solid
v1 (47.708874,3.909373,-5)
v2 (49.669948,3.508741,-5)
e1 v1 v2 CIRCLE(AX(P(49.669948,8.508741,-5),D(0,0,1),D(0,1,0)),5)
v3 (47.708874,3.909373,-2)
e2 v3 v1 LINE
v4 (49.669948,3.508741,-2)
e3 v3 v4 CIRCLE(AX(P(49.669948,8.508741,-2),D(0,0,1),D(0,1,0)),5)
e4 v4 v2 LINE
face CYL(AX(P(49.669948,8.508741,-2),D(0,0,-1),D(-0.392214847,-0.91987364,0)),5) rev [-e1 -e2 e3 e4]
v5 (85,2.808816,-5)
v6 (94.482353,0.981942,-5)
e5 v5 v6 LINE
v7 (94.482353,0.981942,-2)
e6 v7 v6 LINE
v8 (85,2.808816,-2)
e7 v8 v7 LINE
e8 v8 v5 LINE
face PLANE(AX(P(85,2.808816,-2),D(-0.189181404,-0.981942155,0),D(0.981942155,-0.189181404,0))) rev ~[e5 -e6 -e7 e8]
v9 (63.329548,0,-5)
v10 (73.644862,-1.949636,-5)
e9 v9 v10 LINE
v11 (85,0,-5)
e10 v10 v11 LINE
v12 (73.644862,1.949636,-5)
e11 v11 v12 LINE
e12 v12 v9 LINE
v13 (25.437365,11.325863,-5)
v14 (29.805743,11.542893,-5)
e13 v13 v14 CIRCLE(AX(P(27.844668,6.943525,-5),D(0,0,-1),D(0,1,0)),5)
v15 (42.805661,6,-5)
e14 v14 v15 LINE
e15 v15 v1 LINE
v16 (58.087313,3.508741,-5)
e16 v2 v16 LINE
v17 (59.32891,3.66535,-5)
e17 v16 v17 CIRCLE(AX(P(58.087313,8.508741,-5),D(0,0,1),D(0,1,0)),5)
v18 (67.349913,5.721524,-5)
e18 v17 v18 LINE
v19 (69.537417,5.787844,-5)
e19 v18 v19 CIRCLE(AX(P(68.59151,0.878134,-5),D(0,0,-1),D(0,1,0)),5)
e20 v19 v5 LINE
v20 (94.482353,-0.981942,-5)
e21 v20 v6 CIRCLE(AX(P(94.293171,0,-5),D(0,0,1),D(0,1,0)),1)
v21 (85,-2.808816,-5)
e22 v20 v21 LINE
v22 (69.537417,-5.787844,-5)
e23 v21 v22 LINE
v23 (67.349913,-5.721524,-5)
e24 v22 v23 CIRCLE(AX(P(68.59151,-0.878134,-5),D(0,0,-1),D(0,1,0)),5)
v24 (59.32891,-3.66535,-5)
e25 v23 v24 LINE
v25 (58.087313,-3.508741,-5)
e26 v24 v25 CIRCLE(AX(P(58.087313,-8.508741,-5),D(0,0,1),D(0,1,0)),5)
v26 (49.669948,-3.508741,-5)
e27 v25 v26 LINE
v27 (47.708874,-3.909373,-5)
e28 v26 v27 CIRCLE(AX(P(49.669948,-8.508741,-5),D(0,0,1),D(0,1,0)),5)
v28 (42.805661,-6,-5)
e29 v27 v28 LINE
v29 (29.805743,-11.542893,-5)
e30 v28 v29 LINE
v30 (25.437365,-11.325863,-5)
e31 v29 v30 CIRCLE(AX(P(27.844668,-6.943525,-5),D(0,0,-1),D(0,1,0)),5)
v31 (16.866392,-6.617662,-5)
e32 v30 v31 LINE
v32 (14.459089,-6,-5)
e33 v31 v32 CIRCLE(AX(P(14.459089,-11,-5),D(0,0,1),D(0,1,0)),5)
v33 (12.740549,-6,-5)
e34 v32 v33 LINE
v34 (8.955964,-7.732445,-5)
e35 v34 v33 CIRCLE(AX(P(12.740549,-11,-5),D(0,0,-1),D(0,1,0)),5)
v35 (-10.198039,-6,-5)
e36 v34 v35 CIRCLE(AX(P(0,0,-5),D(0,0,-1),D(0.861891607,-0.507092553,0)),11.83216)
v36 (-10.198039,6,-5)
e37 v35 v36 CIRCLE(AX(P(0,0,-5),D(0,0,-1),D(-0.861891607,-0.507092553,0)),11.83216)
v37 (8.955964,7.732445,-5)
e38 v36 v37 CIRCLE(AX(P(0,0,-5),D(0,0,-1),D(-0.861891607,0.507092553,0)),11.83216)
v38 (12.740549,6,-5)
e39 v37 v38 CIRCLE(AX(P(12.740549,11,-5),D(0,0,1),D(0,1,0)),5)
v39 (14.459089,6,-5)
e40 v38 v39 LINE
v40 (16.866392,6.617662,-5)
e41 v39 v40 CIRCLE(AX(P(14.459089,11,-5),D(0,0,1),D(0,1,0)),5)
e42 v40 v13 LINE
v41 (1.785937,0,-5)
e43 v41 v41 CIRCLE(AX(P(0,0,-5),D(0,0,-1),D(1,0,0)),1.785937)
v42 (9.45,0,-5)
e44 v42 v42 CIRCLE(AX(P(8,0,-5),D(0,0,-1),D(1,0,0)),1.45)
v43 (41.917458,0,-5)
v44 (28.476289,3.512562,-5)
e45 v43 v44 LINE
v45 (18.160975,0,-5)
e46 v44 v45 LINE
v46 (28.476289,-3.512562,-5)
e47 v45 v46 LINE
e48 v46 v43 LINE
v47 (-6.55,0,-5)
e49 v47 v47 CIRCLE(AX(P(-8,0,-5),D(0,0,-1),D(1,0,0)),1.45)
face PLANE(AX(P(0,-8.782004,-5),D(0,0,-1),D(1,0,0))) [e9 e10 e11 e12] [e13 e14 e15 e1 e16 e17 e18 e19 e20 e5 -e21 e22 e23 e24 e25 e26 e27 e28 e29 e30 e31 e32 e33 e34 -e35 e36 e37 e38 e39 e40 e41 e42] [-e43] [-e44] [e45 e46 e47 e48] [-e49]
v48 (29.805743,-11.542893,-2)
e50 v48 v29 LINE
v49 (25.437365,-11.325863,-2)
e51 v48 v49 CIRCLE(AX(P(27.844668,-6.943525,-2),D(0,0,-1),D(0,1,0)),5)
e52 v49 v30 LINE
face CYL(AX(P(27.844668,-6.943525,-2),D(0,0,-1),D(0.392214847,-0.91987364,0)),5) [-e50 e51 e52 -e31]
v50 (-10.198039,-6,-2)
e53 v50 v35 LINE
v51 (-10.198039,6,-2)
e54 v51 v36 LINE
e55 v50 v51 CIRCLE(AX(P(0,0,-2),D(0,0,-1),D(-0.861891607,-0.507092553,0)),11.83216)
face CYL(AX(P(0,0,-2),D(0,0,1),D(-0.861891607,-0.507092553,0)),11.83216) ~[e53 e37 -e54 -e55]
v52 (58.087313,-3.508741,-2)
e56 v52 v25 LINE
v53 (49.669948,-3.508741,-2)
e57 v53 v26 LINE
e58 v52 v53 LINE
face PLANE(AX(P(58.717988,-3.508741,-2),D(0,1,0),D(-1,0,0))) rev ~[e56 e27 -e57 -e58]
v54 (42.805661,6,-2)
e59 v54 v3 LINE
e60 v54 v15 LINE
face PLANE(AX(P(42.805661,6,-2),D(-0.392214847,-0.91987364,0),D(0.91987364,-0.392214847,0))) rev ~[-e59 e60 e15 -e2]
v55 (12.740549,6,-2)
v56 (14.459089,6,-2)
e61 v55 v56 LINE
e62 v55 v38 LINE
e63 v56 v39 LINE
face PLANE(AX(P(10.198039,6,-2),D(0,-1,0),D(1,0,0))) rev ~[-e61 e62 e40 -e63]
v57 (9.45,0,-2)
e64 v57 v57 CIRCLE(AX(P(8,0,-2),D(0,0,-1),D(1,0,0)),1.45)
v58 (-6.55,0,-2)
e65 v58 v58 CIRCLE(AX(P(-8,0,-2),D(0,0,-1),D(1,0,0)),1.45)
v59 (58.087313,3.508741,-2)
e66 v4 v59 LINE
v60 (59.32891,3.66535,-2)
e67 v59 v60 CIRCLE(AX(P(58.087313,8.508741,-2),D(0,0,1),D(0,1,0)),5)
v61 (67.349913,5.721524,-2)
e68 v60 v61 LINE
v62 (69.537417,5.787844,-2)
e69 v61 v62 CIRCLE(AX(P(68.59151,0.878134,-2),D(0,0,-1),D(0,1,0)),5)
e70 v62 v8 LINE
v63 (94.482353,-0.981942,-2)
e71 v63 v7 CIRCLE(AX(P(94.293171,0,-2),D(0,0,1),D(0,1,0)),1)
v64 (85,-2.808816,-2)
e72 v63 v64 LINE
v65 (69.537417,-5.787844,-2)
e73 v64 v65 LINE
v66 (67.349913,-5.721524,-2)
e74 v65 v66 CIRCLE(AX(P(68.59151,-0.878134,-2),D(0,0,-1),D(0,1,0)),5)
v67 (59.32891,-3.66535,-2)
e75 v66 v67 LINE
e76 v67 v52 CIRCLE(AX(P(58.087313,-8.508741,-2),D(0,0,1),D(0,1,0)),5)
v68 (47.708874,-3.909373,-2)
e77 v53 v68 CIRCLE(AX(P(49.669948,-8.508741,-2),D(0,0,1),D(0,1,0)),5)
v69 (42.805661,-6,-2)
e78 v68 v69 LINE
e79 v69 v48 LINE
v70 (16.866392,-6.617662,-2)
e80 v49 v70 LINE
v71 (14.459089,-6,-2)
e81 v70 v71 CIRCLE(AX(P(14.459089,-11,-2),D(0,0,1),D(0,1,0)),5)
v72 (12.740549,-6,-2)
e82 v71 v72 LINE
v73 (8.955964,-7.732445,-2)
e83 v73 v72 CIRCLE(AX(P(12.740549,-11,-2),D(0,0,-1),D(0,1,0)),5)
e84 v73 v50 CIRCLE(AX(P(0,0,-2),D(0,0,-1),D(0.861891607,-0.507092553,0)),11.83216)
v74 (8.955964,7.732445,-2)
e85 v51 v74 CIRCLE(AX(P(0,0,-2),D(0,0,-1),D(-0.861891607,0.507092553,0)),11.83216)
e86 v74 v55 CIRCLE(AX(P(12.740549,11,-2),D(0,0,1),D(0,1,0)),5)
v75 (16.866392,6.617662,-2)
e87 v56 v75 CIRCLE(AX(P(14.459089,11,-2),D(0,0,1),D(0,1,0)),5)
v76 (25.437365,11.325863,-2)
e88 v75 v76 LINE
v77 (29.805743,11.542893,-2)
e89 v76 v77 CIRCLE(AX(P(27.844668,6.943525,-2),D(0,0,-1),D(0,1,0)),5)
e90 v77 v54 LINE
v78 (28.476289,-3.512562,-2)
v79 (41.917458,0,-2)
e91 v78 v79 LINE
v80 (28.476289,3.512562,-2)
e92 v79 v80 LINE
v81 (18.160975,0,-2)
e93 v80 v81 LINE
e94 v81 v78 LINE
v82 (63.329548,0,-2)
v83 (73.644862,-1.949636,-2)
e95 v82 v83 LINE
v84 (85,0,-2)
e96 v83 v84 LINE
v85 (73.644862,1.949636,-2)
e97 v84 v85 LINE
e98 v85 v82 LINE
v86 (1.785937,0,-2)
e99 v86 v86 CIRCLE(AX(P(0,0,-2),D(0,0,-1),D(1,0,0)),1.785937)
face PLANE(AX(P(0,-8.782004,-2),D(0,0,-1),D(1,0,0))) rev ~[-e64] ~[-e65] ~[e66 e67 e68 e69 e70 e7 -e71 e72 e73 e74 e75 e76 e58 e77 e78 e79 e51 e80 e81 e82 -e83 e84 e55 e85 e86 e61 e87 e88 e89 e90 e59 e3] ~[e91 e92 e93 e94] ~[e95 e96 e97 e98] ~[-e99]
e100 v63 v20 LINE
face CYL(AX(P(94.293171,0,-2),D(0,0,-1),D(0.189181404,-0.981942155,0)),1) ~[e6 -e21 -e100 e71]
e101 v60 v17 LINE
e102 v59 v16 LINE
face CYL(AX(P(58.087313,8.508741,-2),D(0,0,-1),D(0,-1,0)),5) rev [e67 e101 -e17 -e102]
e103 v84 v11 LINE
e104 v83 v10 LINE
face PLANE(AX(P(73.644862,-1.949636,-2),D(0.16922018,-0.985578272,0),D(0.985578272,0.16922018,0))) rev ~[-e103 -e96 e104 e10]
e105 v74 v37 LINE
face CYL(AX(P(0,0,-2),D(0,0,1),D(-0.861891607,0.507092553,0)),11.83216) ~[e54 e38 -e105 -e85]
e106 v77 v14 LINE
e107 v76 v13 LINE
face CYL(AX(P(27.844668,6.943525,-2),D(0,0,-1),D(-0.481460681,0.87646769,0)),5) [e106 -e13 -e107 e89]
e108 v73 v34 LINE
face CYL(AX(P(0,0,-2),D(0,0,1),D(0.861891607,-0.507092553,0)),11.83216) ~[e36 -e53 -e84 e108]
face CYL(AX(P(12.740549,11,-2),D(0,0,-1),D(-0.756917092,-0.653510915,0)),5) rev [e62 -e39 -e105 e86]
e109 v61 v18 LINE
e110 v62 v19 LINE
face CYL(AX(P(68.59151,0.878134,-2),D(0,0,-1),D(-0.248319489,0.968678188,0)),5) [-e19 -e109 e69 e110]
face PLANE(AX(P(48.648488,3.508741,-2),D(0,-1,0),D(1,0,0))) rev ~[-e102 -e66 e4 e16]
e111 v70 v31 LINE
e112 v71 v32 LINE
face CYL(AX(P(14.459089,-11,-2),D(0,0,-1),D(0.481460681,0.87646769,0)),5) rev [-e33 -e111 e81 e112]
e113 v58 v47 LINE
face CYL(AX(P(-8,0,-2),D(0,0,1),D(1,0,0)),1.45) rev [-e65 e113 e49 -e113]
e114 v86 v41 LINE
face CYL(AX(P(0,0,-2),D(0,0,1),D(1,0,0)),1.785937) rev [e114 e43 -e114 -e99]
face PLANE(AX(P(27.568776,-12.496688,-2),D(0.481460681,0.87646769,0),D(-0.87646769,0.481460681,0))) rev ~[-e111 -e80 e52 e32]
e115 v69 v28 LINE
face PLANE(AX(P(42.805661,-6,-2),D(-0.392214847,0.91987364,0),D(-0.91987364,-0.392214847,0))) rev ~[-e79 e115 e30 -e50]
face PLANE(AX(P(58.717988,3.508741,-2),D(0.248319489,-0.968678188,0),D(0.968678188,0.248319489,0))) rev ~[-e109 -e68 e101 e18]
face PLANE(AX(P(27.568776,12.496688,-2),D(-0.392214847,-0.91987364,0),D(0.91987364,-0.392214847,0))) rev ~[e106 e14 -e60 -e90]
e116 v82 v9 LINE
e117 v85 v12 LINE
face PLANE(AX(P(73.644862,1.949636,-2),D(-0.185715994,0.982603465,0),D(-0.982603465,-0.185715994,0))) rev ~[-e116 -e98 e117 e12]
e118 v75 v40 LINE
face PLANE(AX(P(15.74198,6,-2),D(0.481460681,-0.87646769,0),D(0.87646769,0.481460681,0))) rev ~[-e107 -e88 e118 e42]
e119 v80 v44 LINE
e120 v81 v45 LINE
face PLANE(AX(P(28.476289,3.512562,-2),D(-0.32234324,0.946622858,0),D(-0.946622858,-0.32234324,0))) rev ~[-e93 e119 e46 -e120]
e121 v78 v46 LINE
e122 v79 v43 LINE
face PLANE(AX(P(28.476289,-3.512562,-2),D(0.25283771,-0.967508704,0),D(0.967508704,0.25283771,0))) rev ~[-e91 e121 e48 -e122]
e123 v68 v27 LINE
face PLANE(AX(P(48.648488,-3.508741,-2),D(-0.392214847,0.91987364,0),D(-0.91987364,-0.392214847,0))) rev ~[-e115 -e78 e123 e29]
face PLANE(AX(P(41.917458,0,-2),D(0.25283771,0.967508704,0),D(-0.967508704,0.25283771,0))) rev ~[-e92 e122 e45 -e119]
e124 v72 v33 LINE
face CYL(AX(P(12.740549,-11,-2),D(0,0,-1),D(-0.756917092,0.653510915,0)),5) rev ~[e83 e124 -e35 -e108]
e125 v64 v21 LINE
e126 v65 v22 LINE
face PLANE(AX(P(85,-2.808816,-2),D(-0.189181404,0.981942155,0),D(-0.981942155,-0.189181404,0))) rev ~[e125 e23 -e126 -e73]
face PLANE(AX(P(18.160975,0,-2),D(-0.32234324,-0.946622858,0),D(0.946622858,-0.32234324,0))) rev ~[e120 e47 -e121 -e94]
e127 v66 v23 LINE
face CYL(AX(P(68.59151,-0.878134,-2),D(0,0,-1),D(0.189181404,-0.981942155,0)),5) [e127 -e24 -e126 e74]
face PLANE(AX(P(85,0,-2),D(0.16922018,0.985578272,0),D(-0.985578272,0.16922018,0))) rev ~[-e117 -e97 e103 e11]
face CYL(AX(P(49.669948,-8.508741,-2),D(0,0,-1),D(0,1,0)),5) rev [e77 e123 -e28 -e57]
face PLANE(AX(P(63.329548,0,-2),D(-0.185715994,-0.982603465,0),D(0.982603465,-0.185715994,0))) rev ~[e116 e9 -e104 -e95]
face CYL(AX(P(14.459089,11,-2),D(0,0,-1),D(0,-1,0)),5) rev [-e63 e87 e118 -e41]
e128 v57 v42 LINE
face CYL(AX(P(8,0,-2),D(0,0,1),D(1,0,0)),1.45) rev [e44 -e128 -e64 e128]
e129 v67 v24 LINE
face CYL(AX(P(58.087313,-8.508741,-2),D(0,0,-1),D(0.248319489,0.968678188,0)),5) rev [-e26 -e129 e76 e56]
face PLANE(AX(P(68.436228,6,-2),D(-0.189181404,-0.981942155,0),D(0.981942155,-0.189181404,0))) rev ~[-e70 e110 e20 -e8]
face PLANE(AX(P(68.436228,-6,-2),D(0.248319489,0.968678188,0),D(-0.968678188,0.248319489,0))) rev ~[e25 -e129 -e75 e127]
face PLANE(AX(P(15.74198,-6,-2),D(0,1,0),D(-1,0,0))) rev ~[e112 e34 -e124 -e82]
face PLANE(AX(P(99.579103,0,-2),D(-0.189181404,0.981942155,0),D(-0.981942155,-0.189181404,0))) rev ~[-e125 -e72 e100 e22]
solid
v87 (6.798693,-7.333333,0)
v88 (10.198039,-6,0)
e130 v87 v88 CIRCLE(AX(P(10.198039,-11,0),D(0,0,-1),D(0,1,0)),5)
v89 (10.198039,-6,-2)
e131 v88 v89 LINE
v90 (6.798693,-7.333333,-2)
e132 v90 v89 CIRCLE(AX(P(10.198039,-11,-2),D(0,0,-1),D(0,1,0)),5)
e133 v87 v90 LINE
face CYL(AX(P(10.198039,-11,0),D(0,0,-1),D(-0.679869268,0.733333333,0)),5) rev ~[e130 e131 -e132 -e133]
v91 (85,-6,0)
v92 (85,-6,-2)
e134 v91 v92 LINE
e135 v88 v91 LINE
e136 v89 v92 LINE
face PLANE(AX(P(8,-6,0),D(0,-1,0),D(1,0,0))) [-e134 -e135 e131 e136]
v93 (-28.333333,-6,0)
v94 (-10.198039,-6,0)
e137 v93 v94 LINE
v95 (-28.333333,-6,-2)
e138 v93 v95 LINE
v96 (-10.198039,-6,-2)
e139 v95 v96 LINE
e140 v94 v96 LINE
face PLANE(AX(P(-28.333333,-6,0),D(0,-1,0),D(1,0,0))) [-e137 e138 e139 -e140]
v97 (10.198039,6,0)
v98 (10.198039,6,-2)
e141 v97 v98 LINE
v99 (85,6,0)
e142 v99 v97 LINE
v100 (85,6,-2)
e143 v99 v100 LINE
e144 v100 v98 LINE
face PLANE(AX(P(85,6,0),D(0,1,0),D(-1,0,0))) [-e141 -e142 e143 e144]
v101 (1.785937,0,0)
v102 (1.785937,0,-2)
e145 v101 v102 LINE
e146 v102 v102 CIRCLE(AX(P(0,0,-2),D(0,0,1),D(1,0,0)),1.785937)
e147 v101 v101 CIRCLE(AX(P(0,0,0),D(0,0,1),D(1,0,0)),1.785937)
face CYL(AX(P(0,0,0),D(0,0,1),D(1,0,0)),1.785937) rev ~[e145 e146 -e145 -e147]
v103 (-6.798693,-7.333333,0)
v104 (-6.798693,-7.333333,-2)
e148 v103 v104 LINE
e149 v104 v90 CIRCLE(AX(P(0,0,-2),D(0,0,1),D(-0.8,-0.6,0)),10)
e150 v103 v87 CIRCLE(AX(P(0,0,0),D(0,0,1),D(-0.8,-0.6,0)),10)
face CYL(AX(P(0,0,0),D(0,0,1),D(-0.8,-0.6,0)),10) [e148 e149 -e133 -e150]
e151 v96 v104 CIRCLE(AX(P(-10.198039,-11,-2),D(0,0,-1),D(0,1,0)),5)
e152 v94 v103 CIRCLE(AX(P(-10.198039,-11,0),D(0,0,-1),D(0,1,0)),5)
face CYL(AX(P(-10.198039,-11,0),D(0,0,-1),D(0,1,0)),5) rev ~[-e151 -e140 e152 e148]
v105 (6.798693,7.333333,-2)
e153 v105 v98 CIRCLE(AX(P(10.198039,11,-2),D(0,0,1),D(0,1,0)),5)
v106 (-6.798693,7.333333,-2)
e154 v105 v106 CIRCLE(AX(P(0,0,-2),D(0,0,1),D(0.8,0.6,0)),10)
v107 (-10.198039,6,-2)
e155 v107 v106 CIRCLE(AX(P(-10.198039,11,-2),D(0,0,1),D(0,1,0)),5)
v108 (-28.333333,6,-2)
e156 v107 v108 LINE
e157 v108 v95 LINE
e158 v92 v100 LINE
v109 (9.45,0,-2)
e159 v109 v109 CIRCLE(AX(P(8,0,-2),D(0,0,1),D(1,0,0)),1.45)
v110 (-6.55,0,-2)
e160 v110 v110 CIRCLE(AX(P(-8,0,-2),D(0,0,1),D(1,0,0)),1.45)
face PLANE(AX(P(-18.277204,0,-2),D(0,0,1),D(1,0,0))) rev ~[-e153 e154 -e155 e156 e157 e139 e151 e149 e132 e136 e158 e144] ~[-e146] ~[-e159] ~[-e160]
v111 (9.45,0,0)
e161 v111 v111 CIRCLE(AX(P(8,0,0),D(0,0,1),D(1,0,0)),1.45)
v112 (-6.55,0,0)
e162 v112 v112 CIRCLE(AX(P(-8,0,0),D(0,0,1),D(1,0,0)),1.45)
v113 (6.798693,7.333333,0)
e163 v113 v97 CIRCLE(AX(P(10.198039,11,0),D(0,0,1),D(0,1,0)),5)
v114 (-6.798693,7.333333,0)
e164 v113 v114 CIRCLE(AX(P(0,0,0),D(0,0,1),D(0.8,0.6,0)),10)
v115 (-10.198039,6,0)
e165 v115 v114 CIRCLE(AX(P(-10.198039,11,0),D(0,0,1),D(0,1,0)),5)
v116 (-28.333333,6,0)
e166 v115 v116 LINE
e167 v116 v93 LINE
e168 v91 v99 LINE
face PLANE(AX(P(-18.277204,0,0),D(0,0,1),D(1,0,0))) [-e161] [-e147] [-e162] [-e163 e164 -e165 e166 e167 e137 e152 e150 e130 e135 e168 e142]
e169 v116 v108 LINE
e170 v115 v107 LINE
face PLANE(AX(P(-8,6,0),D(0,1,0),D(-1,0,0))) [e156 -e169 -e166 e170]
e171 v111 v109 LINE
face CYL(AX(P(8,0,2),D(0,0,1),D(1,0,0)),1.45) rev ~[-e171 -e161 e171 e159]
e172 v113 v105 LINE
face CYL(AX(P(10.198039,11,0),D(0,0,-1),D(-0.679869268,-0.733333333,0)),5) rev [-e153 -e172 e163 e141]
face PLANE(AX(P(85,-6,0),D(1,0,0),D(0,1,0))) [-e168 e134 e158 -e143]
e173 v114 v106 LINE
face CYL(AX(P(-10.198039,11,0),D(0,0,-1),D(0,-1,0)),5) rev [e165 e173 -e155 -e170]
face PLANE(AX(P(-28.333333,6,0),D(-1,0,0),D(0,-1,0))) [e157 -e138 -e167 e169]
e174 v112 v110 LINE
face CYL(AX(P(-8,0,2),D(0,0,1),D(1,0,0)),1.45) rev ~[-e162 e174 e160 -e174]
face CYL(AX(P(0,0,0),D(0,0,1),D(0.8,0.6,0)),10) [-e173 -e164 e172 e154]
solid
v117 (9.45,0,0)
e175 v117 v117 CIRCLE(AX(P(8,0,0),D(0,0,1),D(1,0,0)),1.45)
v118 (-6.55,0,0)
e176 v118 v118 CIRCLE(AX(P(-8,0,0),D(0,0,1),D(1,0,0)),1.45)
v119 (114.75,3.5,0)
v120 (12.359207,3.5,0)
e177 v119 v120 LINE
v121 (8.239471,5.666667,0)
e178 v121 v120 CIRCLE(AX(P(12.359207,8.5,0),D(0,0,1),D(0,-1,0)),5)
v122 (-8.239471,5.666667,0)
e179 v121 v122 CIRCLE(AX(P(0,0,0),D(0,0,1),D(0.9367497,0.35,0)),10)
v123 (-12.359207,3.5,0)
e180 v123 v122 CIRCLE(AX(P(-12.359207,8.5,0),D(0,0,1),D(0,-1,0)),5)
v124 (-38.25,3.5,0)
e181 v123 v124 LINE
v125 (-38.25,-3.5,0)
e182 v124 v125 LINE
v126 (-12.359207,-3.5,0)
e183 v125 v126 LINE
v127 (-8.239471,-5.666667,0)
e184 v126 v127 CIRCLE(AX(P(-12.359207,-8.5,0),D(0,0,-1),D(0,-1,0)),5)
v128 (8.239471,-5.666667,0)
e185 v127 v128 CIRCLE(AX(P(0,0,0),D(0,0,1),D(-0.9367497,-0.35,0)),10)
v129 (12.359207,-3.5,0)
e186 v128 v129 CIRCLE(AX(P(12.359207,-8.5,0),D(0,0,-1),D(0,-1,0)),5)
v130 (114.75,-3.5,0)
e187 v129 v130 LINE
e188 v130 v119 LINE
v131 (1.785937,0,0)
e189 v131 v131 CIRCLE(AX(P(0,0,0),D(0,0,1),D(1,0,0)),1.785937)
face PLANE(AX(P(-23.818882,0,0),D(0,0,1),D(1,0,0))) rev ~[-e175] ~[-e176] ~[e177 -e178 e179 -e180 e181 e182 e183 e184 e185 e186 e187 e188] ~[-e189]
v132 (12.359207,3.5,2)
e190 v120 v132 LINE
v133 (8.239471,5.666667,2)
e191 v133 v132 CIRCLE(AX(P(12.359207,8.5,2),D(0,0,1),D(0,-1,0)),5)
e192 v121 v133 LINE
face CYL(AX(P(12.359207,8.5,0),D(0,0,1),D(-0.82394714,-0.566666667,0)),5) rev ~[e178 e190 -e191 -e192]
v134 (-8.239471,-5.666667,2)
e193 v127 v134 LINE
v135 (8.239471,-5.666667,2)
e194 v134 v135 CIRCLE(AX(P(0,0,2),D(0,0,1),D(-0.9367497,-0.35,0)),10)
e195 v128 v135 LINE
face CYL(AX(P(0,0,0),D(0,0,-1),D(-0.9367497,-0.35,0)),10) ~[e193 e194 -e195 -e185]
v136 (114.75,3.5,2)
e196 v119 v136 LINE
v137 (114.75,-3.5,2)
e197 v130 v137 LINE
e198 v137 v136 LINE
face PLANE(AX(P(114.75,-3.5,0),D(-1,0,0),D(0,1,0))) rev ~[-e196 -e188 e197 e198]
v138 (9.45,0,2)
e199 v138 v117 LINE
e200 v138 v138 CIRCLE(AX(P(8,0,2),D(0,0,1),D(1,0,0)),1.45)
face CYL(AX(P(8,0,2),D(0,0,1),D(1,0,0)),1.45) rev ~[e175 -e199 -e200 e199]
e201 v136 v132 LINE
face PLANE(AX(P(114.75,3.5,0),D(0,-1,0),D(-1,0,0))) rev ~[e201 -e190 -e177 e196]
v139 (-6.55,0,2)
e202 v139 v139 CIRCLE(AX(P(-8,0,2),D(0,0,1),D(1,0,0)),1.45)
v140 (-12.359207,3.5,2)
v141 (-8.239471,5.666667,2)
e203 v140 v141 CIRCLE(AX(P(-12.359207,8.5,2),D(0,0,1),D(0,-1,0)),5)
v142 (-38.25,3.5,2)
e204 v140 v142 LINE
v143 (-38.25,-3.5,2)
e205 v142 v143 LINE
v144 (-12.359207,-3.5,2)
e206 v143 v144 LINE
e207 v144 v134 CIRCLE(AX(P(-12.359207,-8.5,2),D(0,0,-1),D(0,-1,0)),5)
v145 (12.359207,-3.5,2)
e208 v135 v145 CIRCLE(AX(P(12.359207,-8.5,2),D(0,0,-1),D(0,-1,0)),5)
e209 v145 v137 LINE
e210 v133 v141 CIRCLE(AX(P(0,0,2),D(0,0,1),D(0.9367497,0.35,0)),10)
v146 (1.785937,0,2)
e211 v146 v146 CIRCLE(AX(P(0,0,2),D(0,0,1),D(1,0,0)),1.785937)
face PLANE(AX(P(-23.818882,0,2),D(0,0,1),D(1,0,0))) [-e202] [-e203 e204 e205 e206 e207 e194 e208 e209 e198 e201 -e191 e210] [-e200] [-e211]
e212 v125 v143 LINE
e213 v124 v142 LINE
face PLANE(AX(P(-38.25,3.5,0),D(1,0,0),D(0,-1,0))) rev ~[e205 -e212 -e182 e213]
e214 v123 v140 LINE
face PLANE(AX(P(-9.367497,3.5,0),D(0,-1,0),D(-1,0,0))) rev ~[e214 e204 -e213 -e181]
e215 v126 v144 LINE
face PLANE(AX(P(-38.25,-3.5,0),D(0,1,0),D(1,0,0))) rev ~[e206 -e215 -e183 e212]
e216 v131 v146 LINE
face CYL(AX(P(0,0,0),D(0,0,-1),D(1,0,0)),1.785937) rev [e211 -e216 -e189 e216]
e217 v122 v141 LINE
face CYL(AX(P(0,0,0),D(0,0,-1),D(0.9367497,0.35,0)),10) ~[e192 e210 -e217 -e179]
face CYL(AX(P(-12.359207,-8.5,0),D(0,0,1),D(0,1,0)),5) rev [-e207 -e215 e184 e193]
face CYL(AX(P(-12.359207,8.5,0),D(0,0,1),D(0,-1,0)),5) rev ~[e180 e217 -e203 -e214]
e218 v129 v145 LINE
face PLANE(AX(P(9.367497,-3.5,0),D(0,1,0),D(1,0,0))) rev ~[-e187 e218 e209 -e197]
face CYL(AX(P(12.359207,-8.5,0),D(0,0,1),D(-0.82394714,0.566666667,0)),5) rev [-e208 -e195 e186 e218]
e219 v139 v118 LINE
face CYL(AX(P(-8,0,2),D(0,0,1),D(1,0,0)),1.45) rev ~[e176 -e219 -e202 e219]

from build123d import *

# Parameters (mm, degrees)
F0_R     = 1.7859375
F1_DEPTH = 2
F2_R     = 1.7859375
F3_DEPTH = 2
F4_R     = 1.45
F5_DEPTH = 25
F6_R     = 5
F6_2_R   = 5
F7_R     = 1.45
F7_R_2   = 1.7859375
F8_DEPTH = 3
F9_R     = 5
F10_R    = 1


with BuildPart() as f1:
    # F0 (on Top) → F1 (new body)
    with BuildSketch(Plane.XY):
        with BuildLine():
            Line((-9.3674969976, 3.5), (-38.25, 3.5))
            Line((-38.25, 3.5), (-38.25, -3.5))
            Line((-38.25, -3.5), (-9.3674969976, -3.5))
            ThreePointArc((-9.3674969976, -3.5), (-10, 0), (-9.3674969976, 3.5))
        make_face()
        with BuildLine():
            ThreePointArc((9.3674969976, 3.5), (0, 10), (-9.3674969976, 3.5))
            Line((-9.3674969976, 3.5), (9.3674969976, 3.5))
        make_face()
        with BuildLine():
            Line((9.3674969976, 3.5), (-9.3674969976, 3.5))
            ThreePointArc((-9.3674969976, 3.5), (-10, 0), (-9.3674969976, -3.5))
            Line((-9.3674969976, -3.5), (9.3674969976, -3.5))
            ThreePointArc((9.3674969976, -3.5), (9.8406038935, -1.7783461452), (10, 0))
            ThreePointArc((10, 0), (9.8406038935, 1.7783461452), (9.3674969976, 3.5))
        make_face()
        Circle(F0_R, mode=Mode.SUBTRACT)
        with BuildLine():
            Line((114.75, 3.5), (9.3674969976, 3.5))
            ThreePointArc((9.3674969976, 3.5), (9.8406038935, 1.7783461452), (10, 0))
            ThreePointArc((10, 0), (9.8406038935, -1.7783461452), (9.3674969976, -3.5))
            Line((9.3674969976, -3.5), (114.75, -3.5))
            Line((114.75, -3.5), (114.75, 3.5))
        make_face()
        with BuildLine():
            Line((9.3674969976, -3.5), (-9.3674969976, -3.5))
            ThreePointArc((-9.3674969976, -3.5), (0, -10), (9.3674969976, -3.5))
        make_face()
    extrude(amount=F1_DEPTH)


with BuildPart() as f3:
    # F2 (on Top) → F3 (new body)
    with BuildSketch(Plane.XY):
        with BuildLine():
            Line((-8, 6), (-28.3333333333, 6))
            Line((-28.3333333333, 6), (-28.3333333333, -6))
            Line((-28.3333333333, -6), (-8, -6))
            ThreePointArc((-8, -6), (-10, 0), (-8, 6))
        make_face()
        with BuildLine():
            ThreePointArc((8, 6), (0, 10), (-8, 6))
            Line((-8, 6), (8, 6))
        make_face()
        with BuildLine():
            Line((8, 6), (-8, 6))
            ThreePointArc((-8, 6), (-10, 0), (-8, -6))
            Line((-8, -6), (8, -6))
            ThreePointArc((8, -6), (9.4868329805, -3.1622776602), (10, 0))
            ThreePointArc((10, 0), (9.4868329805, 3.1622776602), (8, 6))
        make_face()
        Circle(F2_R, mode=Mode.SUBTRACT)
        with BuildLine():
            Line((85, 6), (8, 6))
            ThreePointArc((8, 6), (9.4868329805, 3.1622776602), (10, 0))
            ThreePointArc((10, 0), (9.4868329805, -3.1622776602), (8, -6))
            Line((8, -6), (85, -6))
            Line((85, -6), (85, 6))
        make_face()
        with BuildLine():
            Line((8, -6), (-8, -6))
            ThreePointArc((-8, -6), (0, -10), (8, -6))
        make_face()
    extrude(amount=-F3_DEPTH)


with BuildPart() as f5_tool:
    # F4 (on face) → F5 (new body)
    with BuildSketch(Plane.XY.offset(2)):
        with Locations((8, 0)):
            Circle(F4_R)
        with Locations((-8, 0)):
            Circle(F4_R)
    extrude(amount=-F5_DEPTH)


with BuildPart() as f1_1:
    add(f1.part)

    # F5: cut by f5_tool
    add(f5_tool.part, mode=Mode.SUBTRACT)

    # F6
    f6_edges = [f1_1.edges().sort_by_distance(p)[0] for p in [
        (9.367497, -3.5, 1),
        (9.367497, 3.5, 1),
        (-9.367497, 3.5, 1),
        (-9.367497, -3.5, 1),
    ]]
    fillet(f6_edges, radius=F6_R)


with BuildPart() as f3_1:
    add(f3.part)

    # F5: cut by f5_tool
    add(f5_tool.part, mode=Mode.SUBTRACT)

    # F6#2
    f6_2_edges = [f3_1.edges().sort_by_distance(p)[0] for p in [
        (-8, -6, -1),
        (8, 6, -1),
        (8, -6, -1),
        (-8, 6, -1),
    ]]
    fillet(f6_2_edges, radius=F6_2_R)


with BuildPart() as f8:
    # F7 (on face) → F8 (new body)
    with BuildSketch(Plane(origin=(0, 0, -2), x_dir=(1, 0, 0), z_dir=(0, 0, -1))):
        with BuildLine():
            ThreePointArc((6.7986926848, 7.3333333333), (8.3722971688, 6.3452533187), (10.1980390272, 6))
            ThreePointArc((10.1980390272, 6), (0, 11.8321595662), (-10.1980390272, 6))
            ThreePointArc((-10.1980390272, 6), (-8.3722971688, 6.3452533187), (-6.7986926848, 7.3333333333))
            ThreePointArc((-6.7986926848, 7.3333333333), (0, 10), (6.7986926848, 7.3333333333))
        make_face()
        with BuildLine():
            ThreePointArc((-10.1980390272, -6), (0, -11.8321595662), (10.1980390272, -6))
            ThreePointArc((10.1980390272, -6), (8.3722971688, -6.3452533187), (6.7986926848, -7.3333333333))
            ThreePointArc((6.7986926848, -7.3333333333), (0, -10), (-6.7986926848, -7.3333333333))
            ThreePointArc((-6.7986926848, -7.3333333333), (-8.3722971688, -6.3452533187), (-10.1980390272, -6))
        make_face()
        with BuildLine():
            Line((-10.1980390272, -6), (-10.1980390272, 6))
            ThreePointArc((-10.1980390272, 6), (-11.8321595662, 0), (-10.1980390272, -6))
        make_face()
        with BuildLine():
            ThreePointArc((10.1980390272, -6), (11.4163221975, -3.1092744305), (11.8321595662, 0))
            ThreePointArc((11.8321595662, 0), (11.4163221975, 3.1092744305), (10.1980390272, 6))
            ThreePointArc((10.1980390272, 6), (8.3722971688, 6.3452533187), (6.7986926848, 7.3333333333))
            ThreePointArc((6.7986926848, 7.3333333333), (0, 10), (-6.7986926848, 7.3333333333))
            ThreePointArc((-6.7986926848, 7.3333333333), (-8.3722971688, 6.3452533187), (-10.1980390272, 6))
            Line((-10.1980390272, 6), (-10.1980390272, -6))
            ThreePointArc((-10.1980390272, -6), (-8.3722971688, -6.3452533187), (-6.7986926848, -7.3333333333))
            ThreePointArc((-6.7986926848, -7.3333333333), (0, -10), (6.7986926848, -7.3333333333))
            ThreePointArc((6.7986926848, -7.3333333333), (8.3722971688, -6.3452533187), (10.1980390272, -6))
        make_face()
        with Locations((-8, 0)):
            Circle(F7_R, mode=Mode.SUBTRACT)
        Circle(F7_R_2, mode=Mode.SUBTRACT)
        with Locations((8, 0)):
            Circle(F7_R, mode=Mode.SUBTRACT)
        Polygon((27.5687761605, 12.4966884032), (15.7419797033, 6), (42.8056608912, 6), align=None)
        Polygon((42.8056608912, -6), (15.7419797033, -6), (27.5687761605, -12.4966884032), align=None)
        Polygon((85, 2.8088164049), (85, 0), (85, -2.8088164049), (99.579103291, 0), align=None)
        with BuildLine():
            Line((11.8321595662, 0), (18.1609746069, 0))
            Line((18.1609746069, 0), (28.4762885422, 3.5125622526))
            Line((28.4762885422, 3.5125622526), (41.9174581766, 0))
            Line((41.9174581766, 0), (63.3295476437, 0))
            Line((63.3295476437, 0), (73.6448615789, 1.9496356836))
            Line((73.6448615789, 1.9496356836), (85, 0))
            Line((85, 0), (85, 2.8088164049))
            Line((85, 2.8088164049), (68.4362277389, 6))
            Line((68.4362277389, 6), (58.7179884315, 3.5087410361))
            Line((58.7179884315, 3.5087410361), (48.6484877765, 3.5087410361))
            Line((48.6484877765, 3.5087410361), (42.8056608912, 6))
            Line((42.8056608912, 6), (15.7419797033, 6))
            Line((15.7419797033, 6), (10.1980390272, 6))
            ThreePointArc((10.1980390272, 6), (11.4163221975, 3.1092744305), (11.8321595662, 0))
        make_face()
        with BuildLine():
            Line((28.4762885422, -3.5125622526), (18.1609746069, 0))
            Line((18.1609746069, 0), (11.8321595662, 0))
            ThreePointArc((11.8321595662, 0), (11.4163221975, -3.1092744305), (10.1980390272, -6))
            Line((10.1980390272, -6), (15.7419797033, -6))
            Line((15.7419797033, -6), (42.8056608912, -6))
            Line((42.8056608912, -6), (48.6484877765, -3.5087410361))
            Line((48.6484877765, -3.5087410361), (58.7179884315, -3.5087410361))
            Line((58.7179884315, -3.5087410361), (68.4362277389, -6))
            Line((68.4362277389, -6), (85, -2.8088164049))
            Line((85, -2.8088164049), (85, 0))
            Line((85, 0), (73.6448615789, -1.9496356836))
            Line((73.6448615789, -1.9496356836), (63.3295476437, 0))
            Line((63.3295476437, 0), (41.9174581766, 0))
            Line((41.9174581766, 0), (28.4762885422, -3.5125622526))
        make_face()
    extrude(amount=F8_DEPTH)

    # F9
    f9_edges = [f8.edges().sort_by_distance(p)[0] for p in [
        (10.198039, 6, -3.5),
        (15.74198, 6, -3.5),
        (10.198039, -6, -3.5),
        (15.74198, -6, -3.5),
        (27.568776, -12.496688, -3.5),
        (27.568776, 12.496688, -3.5),
        (48.648488, 3.508741, -3.5),
        (58.717988, 3.508741, -3.5),
        (68.436228, 6, -3.5),
        (48.648488, -3.508741, -3.5),
        (58.717988, -3.508741, -3.5),
        (68.436228, -6, -3.5),
    ]]
    fillet(f9_edges, radius=F9_R)

    # F10
    f10_edges = [f8.edges().sort_by_distance(p)[0] for p in [
        (99.579103, 0, -3.5),
    ]]
    fillet(f10_edges, radius=F10_R)


solid = Compound([f1_1.part, f3_1.part, f8.part])
